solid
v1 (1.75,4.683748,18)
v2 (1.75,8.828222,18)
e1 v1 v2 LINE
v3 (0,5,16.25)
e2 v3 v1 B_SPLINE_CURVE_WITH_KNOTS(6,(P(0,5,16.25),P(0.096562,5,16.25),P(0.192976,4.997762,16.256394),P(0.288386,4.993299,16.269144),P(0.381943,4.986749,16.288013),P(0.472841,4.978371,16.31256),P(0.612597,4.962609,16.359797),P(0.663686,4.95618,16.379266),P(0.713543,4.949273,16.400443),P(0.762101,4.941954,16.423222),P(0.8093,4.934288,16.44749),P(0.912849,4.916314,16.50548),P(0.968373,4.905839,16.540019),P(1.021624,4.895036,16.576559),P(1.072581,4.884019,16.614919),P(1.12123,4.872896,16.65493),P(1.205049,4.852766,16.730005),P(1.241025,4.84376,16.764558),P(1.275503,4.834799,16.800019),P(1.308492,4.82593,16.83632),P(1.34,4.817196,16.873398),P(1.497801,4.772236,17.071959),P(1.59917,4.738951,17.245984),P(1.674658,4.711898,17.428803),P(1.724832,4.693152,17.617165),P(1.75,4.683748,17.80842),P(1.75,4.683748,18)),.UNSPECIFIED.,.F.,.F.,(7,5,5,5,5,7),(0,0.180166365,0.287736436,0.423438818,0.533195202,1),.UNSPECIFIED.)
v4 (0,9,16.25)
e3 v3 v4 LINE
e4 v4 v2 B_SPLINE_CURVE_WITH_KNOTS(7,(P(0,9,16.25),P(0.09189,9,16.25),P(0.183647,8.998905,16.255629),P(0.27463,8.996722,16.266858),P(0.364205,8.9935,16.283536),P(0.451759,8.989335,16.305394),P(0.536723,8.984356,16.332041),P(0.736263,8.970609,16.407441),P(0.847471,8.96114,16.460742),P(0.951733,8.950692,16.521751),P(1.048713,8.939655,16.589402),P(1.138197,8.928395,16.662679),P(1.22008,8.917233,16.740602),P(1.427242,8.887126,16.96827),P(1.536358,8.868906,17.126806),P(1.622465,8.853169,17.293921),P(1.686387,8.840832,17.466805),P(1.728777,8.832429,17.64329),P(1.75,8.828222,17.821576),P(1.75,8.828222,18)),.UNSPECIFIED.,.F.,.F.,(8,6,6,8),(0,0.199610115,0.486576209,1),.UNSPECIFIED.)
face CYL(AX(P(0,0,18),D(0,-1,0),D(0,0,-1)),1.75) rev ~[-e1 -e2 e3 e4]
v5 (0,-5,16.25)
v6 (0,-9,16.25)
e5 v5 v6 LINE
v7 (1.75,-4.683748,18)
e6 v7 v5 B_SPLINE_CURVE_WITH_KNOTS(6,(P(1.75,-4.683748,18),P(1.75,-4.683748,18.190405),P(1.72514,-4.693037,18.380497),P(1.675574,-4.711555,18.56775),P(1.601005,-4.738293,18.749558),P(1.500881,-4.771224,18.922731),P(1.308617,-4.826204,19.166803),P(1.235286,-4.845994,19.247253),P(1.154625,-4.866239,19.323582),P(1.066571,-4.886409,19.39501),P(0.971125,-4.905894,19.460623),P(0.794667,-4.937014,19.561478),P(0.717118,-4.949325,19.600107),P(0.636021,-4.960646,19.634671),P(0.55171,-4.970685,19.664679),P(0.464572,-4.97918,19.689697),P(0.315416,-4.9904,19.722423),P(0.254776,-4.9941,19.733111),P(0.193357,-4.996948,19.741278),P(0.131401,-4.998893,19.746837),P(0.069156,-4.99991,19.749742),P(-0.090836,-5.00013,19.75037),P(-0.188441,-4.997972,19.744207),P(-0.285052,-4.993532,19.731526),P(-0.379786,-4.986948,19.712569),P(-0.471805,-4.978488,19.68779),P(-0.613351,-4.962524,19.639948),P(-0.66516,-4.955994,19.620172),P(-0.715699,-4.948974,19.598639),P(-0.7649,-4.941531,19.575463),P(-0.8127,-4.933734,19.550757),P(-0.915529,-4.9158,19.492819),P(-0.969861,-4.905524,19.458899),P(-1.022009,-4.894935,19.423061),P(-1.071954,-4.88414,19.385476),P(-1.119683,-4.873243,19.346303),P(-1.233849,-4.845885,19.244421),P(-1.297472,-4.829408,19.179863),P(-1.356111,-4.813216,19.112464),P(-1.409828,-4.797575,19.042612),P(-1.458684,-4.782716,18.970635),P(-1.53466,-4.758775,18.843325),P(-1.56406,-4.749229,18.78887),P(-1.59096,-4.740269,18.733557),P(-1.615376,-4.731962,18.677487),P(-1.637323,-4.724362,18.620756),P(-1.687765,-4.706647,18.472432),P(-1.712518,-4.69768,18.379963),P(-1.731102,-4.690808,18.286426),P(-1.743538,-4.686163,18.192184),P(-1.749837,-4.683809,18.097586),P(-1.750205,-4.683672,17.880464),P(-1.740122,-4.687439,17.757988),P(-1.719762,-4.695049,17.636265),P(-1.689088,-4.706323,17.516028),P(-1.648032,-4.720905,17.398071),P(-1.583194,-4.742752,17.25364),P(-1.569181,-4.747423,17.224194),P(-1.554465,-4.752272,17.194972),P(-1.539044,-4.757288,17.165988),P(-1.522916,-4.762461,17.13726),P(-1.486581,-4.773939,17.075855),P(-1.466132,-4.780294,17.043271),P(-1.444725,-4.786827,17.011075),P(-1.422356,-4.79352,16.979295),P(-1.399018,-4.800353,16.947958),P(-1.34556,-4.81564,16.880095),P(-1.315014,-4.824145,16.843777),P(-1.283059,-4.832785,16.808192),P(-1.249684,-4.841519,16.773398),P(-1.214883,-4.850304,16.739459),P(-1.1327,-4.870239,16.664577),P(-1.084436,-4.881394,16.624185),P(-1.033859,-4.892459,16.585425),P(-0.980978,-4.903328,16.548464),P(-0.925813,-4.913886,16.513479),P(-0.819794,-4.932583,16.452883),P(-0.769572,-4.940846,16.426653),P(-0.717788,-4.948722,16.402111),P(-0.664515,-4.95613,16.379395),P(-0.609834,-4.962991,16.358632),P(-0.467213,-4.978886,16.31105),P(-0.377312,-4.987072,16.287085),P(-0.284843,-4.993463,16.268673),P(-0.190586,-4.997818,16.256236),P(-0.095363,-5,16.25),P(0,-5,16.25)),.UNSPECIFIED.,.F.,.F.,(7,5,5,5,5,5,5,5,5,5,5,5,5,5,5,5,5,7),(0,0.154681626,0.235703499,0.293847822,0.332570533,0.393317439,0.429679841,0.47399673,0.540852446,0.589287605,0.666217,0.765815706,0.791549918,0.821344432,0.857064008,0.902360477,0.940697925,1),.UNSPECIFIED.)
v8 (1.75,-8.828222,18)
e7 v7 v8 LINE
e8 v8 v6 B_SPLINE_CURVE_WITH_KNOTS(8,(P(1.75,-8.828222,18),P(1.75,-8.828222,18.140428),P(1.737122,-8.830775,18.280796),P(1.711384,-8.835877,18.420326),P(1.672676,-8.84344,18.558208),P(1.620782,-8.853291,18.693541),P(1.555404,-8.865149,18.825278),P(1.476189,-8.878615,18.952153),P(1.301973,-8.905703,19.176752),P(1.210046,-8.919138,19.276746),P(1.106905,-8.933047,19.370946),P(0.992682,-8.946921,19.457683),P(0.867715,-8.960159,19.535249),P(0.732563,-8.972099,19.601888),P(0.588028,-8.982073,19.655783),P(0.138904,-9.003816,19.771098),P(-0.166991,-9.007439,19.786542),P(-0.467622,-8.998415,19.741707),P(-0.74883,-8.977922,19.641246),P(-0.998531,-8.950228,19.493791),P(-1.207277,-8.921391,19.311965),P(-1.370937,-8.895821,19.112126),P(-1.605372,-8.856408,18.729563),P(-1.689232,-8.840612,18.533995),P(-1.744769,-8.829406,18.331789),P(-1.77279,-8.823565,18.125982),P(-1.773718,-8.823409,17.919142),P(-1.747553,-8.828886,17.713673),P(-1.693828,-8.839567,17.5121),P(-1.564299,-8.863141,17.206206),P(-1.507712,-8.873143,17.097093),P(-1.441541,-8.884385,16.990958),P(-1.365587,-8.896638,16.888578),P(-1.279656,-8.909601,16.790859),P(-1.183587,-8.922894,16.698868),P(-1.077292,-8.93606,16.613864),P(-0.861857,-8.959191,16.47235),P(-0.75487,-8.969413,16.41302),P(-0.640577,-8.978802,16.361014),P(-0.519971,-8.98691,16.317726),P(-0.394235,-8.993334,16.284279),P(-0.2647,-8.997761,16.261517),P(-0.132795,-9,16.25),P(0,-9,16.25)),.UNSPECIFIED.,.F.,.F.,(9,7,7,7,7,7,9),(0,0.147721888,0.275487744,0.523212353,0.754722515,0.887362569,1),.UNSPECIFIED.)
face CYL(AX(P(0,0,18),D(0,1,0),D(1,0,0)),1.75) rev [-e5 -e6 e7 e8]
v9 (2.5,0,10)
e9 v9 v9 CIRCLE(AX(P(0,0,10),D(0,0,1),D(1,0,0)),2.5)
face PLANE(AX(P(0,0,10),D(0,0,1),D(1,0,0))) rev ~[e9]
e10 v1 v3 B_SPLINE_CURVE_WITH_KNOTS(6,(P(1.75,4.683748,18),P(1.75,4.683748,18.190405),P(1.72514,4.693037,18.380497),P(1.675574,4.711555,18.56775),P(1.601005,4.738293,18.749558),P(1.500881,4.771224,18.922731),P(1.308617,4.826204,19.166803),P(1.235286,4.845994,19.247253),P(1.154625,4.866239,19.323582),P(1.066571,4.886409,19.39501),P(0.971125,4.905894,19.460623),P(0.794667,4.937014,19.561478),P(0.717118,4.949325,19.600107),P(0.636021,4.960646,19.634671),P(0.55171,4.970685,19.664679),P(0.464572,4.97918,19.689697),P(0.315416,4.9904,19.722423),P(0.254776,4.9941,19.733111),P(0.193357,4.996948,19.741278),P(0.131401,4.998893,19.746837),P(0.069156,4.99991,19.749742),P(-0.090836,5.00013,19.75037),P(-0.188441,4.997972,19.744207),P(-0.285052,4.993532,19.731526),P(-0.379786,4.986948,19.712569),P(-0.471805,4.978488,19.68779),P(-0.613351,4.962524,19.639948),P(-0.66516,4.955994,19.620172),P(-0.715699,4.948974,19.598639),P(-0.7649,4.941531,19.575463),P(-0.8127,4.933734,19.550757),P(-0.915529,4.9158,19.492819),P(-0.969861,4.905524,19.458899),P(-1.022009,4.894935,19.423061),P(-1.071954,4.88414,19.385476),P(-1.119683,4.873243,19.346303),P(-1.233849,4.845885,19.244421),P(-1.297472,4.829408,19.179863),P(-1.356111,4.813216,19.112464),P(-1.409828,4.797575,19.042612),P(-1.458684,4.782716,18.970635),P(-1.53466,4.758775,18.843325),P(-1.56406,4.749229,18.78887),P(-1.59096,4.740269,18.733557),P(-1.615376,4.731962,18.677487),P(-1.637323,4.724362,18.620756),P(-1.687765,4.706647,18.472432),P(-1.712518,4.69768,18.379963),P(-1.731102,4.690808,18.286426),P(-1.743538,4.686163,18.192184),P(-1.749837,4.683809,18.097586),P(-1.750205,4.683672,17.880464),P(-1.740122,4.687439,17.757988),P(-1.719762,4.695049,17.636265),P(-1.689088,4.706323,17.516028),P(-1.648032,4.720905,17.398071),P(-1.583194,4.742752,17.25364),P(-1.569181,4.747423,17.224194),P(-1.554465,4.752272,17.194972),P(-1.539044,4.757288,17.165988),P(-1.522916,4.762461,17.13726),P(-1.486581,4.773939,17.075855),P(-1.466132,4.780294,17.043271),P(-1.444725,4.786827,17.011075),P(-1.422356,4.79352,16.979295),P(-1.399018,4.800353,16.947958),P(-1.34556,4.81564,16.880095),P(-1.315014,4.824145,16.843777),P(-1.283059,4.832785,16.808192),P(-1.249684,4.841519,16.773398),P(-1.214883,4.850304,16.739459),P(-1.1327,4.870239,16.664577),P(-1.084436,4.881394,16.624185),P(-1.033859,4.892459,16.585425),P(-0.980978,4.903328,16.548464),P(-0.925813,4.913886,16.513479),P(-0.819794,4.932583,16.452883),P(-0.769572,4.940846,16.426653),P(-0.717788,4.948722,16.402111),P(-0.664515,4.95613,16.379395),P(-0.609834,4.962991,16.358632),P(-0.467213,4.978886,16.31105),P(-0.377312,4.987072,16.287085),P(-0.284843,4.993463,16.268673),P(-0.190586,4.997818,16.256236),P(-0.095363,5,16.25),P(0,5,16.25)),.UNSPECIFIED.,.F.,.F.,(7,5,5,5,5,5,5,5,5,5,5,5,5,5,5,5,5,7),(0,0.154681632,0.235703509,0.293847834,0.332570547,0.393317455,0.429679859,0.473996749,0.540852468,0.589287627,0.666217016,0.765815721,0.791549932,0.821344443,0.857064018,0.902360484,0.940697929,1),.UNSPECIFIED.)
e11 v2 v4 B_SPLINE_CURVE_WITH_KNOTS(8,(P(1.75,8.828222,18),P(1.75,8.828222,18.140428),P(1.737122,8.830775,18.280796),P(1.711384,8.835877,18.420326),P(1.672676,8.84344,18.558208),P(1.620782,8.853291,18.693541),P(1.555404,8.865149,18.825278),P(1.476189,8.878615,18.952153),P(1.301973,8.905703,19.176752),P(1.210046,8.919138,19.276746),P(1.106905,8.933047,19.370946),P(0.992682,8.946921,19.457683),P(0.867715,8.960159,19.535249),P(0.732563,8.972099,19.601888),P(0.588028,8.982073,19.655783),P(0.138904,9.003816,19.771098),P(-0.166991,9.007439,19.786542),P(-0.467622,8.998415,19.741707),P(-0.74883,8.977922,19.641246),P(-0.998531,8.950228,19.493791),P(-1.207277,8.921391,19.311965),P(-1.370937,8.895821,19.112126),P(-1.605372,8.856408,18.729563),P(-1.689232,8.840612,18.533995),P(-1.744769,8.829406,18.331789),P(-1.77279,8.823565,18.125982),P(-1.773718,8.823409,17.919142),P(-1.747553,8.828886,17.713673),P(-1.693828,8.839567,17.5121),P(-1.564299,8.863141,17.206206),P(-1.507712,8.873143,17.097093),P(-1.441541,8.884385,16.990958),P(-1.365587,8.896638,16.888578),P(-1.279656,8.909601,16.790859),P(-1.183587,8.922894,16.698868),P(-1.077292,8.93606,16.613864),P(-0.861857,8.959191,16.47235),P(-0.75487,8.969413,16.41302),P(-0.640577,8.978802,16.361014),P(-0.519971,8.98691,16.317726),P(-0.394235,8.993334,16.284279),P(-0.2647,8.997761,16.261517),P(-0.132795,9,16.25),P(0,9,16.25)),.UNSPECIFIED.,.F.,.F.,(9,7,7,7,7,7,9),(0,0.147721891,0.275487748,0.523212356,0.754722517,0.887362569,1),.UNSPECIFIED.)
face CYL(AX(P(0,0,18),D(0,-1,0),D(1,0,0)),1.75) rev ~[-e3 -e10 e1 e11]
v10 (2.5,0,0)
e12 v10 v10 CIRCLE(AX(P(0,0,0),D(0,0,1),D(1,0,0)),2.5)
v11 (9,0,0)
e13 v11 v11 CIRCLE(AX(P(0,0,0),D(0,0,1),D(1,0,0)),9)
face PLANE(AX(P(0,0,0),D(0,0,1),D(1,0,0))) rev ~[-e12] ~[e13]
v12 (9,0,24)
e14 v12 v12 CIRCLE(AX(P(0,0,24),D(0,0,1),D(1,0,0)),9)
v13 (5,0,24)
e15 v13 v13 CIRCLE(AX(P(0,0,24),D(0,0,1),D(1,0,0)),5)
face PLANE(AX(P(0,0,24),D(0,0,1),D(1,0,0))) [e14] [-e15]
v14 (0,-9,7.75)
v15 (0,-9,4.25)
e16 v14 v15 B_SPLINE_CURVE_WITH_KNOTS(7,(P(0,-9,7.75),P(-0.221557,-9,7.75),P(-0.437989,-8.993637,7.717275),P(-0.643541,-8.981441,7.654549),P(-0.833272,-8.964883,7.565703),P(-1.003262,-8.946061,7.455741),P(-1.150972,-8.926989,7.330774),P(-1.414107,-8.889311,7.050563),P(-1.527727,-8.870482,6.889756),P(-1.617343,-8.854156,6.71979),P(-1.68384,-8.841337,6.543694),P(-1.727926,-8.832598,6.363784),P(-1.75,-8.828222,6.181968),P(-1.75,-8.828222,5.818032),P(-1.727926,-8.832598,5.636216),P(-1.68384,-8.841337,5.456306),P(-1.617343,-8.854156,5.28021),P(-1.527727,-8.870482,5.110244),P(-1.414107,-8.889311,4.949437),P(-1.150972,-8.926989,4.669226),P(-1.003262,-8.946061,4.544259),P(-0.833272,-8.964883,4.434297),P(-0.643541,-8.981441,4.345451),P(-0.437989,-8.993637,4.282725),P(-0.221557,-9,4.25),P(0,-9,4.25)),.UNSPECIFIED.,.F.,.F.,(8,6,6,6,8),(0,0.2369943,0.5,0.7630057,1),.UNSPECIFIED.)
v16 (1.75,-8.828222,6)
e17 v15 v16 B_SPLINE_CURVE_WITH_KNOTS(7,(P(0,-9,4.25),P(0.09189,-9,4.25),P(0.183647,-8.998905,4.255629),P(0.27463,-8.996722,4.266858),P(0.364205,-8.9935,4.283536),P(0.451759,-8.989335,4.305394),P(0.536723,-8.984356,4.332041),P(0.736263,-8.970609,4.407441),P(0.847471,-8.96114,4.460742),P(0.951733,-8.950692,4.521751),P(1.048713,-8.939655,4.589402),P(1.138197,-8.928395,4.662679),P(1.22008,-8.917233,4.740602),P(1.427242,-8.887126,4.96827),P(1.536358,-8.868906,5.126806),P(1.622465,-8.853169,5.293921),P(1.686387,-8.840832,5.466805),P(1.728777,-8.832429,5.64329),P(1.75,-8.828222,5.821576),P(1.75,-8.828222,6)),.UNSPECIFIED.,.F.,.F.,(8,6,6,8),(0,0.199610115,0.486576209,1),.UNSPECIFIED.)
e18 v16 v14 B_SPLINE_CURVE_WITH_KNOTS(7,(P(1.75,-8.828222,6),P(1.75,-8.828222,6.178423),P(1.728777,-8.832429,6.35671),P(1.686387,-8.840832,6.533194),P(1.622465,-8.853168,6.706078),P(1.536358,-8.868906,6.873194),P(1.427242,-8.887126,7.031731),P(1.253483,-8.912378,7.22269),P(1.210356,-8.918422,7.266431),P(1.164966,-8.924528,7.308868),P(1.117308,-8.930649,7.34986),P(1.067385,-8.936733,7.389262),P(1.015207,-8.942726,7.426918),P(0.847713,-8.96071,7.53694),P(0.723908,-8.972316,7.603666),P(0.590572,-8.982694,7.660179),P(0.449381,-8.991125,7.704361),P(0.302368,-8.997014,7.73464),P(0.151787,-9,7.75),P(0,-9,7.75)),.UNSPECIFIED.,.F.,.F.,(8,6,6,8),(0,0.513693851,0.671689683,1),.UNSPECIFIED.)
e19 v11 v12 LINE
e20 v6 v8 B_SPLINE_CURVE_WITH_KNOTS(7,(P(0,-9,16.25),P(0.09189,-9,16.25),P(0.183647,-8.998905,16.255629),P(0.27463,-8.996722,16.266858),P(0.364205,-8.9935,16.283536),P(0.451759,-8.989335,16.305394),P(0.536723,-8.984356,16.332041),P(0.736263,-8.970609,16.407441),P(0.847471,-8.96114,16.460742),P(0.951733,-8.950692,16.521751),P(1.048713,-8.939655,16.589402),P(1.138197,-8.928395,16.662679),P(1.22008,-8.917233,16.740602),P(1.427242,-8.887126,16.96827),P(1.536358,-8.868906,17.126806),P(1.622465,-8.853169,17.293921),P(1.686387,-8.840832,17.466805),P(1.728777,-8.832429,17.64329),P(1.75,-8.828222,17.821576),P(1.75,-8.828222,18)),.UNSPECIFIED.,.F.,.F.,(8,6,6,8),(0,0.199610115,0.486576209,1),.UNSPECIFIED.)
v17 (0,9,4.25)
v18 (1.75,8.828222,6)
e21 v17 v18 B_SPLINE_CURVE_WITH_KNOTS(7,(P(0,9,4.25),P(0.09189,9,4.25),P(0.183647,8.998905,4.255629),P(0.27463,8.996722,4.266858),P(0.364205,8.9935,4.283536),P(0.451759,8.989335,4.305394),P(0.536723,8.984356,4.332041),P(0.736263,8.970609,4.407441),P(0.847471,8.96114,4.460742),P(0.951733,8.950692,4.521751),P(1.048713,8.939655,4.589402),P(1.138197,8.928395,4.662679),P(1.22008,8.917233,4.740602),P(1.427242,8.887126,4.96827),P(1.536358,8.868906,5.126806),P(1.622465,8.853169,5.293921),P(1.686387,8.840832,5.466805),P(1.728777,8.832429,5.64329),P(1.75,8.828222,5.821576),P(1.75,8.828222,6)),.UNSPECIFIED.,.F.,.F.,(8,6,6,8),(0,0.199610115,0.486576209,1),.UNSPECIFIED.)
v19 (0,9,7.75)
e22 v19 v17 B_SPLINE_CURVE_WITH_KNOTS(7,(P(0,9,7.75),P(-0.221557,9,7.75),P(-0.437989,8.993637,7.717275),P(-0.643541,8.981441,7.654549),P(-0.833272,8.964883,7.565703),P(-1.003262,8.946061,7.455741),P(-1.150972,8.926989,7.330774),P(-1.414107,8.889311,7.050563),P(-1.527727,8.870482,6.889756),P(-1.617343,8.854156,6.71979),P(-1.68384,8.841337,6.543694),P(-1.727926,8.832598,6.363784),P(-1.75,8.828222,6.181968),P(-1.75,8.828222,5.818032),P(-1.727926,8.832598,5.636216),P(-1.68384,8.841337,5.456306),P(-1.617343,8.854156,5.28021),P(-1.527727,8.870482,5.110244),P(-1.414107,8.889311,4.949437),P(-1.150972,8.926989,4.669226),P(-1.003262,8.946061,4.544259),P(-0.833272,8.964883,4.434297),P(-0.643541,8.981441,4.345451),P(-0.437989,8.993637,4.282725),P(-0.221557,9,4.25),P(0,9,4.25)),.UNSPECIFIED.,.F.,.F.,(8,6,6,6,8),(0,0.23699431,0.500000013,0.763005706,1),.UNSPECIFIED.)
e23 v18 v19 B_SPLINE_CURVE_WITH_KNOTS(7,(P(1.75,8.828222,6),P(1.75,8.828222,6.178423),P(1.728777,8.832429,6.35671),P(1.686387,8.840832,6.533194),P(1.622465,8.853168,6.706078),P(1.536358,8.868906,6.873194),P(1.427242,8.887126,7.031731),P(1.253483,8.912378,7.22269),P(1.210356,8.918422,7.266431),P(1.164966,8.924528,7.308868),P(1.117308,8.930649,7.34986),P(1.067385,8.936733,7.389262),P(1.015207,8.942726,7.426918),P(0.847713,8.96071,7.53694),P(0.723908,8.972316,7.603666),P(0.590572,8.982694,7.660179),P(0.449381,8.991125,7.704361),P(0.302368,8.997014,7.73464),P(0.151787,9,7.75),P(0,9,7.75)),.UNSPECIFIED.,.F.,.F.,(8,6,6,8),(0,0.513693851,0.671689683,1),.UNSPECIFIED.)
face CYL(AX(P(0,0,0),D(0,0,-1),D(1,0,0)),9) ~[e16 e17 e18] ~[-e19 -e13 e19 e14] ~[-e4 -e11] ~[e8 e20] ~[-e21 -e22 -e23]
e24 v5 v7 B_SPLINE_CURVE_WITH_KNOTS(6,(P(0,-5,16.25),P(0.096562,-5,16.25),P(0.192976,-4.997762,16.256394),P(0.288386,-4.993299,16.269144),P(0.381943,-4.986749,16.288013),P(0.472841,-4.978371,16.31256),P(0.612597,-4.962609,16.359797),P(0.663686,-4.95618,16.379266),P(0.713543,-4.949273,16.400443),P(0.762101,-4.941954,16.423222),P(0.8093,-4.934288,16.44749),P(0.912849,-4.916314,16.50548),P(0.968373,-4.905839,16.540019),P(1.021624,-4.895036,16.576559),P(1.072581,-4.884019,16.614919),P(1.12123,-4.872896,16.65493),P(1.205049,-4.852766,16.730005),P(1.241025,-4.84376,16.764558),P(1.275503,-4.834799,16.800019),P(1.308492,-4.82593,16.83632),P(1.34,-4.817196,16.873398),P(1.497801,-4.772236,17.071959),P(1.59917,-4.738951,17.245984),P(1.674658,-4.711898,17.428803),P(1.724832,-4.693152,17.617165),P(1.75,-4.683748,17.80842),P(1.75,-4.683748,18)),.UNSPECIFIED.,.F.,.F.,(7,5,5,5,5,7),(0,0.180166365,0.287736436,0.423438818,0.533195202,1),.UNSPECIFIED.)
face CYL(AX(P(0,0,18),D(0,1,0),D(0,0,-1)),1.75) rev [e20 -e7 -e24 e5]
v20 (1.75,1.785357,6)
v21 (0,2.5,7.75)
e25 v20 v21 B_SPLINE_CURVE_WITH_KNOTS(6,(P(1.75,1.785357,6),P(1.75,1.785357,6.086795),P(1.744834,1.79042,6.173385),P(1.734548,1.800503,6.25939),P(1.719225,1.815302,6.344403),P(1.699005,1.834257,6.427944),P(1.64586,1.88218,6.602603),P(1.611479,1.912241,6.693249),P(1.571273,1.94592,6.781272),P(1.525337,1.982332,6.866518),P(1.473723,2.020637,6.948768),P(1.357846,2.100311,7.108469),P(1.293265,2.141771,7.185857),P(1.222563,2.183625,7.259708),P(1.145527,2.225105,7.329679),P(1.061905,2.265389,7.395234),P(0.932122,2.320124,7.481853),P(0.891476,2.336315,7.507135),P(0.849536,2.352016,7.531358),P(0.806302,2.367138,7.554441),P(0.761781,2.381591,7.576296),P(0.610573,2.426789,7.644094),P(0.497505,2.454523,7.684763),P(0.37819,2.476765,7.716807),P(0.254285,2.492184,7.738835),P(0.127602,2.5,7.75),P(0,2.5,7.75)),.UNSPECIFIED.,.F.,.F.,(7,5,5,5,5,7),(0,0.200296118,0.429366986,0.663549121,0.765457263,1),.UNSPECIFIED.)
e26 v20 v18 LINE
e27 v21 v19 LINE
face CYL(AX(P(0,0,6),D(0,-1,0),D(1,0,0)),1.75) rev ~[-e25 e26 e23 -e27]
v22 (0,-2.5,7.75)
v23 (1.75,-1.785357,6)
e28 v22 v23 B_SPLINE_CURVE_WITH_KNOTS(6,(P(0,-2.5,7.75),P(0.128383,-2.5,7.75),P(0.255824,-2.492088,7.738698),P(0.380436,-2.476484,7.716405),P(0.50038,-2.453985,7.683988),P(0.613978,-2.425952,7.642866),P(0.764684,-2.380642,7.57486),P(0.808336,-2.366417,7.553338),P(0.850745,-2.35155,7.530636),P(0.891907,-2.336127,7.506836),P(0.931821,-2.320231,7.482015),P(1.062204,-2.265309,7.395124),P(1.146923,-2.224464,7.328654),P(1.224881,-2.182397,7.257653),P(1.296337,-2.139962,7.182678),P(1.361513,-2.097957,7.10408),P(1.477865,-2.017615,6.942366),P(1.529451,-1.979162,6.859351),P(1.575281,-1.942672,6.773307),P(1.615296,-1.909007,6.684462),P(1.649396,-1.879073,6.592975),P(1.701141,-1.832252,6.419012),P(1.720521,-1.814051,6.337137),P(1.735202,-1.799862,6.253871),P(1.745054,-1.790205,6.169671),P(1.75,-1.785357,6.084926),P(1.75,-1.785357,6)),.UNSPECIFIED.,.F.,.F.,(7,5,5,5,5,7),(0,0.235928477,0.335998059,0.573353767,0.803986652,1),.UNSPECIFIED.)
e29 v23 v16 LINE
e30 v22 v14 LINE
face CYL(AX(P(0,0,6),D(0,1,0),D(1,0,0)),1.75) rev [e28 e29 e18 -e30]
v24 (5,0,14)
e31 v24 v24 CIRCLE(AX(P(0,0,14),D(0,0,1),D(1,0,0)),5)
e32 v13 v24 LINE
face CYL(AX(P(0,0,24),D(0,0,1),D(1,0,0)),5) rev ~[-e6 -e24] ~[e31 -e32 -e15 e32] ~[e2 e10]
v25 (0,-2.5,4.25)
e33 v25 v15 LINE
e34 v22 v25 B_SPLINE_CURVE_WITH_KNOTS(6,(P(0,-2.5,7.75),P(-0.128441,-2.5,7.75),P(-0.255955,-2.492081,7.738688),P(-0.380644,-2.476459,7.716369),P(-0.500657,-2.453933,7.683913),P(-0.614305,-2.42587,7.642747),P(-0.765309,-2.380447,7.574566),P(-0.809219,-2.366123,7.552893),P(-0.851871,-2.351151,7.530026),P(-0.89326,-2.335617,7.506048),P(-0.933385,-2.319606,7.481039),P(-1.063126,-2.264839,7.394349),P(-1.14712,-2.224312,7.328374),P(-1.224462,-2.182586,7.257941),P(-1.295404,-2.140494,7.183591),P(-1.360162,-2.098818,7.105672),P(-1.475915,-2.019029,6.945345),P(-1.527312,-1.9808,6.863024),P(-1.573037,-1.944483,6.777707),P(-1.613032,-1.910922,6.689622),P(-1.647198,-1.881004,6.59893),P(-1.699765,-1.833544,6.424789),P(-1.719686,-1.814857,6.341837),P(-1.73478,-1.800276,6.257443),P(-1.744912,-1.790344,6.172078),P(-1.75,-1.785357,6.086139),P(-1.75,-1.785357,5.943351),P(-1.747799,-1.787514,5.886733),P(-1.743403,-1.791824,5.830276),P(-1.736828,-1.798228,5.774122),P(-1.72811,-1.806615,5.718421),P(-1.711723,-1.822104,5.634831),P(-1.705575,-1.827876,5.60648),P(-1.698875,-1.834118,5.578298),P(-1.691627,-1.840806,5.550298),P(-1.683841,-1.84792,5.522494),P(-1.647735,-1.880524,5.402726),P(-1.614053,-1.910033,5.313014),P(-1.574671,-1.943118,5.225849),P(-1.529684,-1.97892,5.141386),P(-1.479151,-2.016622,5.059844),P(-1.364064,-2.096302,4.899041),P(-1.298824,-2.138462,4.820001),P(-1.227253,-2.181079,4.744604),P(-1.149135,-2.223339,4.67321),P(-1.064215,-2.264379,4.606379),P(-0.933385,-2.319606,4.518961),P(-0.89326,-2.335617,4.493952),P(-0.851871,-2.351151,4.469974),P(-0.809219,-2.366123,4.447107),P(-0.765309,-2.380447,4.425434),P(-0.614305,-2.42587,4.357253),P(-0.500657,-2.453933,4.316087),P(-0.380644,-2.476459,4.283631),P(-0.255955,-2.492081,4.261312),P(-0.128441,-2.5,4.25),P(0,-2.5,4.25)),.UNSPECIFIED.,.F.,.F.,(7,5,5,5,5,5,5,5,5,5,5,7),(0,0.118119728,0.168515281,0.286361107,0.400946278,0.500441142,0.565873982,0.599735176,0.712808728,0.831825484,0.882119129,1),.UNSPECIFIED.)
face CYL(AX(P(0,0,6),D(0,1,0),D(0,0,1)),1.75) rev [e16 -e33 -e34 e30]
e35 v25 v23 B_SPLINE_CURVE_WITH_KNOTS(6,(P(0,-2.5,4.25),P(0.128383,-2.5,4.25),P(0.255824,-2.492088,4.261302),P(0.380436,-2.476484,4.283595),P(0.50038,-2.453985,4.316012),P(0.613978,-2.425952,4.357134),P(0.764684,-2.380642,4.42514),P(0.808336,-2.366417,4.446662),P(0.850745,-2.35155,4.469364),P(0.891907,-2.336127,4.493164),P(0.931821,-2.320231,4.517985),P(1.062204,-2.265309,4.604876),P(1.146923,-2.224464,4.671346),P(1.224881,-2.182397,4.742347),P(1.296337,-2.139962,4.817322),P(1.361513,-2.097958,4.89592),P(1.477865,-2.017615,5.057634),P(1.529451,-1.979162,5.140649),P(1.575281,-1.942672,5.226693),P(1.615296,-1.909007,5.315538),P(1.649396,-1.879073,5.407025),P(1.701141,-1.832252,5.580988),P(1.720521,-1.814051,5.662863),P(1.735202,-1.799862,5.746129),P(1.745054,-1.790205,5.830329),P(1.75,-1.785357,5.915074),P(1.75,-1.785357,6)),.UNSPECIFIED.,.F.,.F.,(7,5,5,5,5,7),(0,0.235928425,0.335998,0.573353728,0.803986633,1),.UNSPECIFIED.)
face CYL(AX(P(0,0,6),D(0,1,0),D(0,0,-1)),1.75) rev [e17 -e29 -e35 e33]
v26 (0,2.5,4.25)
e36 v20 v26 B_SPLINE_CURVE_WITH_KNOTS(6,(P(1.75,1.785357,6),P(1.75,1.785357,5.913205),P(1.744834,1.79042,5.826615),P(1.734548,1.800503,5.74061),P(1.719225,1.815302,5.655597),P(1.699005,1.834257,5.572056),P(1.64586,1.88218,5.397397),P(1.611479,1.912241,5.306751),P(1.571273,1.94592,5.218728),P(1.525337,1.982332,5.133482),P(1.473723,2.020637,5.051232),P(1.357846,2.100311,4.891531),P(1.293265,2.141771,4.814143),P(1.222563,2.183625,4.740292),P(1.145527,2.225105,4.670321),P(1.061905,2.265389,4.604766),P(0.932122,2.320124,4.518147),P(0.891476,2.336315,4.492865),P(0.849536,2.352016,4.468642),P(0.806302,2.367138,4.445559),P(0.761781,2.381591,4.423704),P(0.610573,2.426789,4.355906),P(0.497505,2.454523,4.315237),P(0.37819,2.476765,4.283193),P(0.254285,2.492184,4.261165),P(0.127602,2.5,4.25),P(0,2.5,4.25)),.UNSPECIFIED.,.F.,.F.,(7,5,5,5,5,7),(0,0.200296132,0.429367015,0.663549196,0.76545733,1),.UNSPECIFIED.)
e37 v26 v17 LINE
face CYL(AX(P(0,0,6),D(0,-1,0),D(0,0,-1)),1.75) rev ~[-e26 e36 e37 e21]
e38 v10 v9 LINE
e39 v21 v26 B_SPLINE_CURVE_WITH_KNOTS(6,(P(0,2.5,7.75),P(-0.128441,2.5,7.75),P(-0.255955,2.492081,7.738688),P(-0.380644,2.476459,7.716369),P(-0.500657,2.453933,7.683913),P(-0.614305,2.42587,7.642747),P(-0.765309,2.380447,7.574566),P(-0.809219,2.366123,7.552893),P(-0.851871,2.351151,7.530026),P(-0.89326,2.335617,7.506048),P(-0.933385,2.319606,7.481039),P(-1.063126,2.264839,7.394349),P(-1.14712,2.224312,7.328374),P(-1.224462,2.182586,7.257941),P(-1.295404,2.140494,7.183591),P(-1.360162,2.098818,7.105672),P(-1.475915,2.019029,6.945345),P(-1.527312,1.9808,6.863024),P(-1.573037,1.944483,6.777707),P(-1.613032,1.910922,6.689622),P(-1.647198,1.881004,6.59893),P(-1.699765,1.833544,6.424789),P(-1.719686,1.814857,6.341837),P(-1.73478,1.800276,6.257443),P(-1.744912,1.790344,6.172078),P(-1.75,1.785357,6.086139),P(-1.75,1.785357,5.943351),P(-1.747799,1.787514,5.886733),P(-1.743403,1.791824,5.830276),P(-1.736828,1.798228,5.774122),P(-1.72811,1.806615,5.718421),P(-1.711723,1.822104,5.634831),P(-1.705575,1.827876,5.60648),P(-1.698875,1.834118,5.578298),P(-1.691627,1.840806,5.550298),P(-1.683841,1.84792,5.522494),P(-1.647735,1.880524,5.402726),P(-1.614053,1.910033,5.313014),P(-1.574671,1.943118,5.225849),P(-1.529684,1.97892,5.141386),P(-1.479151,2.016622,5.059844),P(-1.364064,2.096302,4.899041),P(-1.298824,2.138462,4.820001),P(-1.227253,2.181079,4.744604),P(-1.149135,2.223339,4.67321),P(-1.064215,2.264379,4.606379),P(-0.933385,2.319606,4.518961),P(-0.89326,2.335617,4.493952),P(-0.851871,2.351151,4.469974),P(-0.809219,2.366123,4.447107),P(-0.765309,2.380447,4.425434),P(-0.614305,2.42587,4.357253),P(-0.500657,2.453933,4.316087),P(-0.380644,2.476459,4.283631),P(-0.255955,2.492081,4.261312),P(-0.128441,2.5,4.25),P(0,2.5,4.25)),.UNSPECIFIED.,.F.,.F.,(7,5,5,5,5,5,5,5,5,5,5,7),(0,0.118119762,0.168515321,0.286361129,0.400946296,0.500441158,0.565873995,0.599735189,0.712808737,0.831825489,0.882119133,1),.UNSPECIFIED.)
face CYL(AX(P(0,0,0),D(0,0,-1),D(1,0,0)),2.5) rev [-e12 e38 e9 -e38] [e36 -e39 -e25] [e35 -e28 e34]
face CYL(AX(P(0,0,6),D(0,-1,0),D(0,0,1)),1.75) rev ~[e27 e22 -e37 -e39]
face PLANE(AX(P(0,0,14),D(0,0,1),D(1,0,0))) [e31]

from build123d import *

# Parameters (mm, degrees)
F0_R          = 9
F1_DEPTH      = 24
F2_R          = 5
F3_DEPTH      = 10
F4_R          = 2.5
F5_DEPTH      = 10
F7_DEPTH      = 25
F7_DEPTH_BACK = 25


with BuildPart() as f1:
    # F0 (on Top) → F1 (new body)
    with BuildSketch(Plane.XY):
        Circle(F0_R)
    extrude(amount=F1_DEPTH)

    # F2 (on face) → F3 (cut)
    with BuildSketch(Plane.XY.offset(24)):
        Circle(F2_R)
    extrude(amount=-F3_DEPTH, mode=Mode.SUBTRACT)

    # F4 (on Top) → F5 (cut)
    with BuildSketch(Plane.XY):
        Circle(F4_R)
    extrude(amount=F5_DEPTH, mode=Mode.SUBTRACT)

    # F6 (on Front) → F7 (cut, two sides)
    with BuildSketch(Plane.XZ) as f7_sk:
        with BuildLine():
            ThreePointArc((0, 7.75), (-1.75, 6), (0, 4.25))
            Line((0, 4.25), (0, 6))
            Line((0, 6), (0, 7.75))
        make_face()
        with BuildLine():
            ThreePointArc((1.75, 18), (-1.2374368671, 19.2374368671), (0, 16.25))
            ThreePointArc((0, 16.25), (1.2374368671, 16.7625631329), (1.75, 18))
        make_face()
        with BuildLine():
            Line((0, 6), (0, 4.25))
            ThreePointArc((0, 4.25), (1.2374368671, 4.7625631329), (1.75, 6))
            ThreePointArc((1.75, 6), (1.2374368671, 7.2374368671), (0, 7.75))
            Line((0, 7.75), (0, 6))
        make_face()
    extrude(amount=-F7_DEPTH, mode=Mode.SUBTRACT)
    extrude(f7_sk.sketch, amount=F7_DEPTH_BACK, mode=Mode.SUBTRACT)


solid = f1.part
